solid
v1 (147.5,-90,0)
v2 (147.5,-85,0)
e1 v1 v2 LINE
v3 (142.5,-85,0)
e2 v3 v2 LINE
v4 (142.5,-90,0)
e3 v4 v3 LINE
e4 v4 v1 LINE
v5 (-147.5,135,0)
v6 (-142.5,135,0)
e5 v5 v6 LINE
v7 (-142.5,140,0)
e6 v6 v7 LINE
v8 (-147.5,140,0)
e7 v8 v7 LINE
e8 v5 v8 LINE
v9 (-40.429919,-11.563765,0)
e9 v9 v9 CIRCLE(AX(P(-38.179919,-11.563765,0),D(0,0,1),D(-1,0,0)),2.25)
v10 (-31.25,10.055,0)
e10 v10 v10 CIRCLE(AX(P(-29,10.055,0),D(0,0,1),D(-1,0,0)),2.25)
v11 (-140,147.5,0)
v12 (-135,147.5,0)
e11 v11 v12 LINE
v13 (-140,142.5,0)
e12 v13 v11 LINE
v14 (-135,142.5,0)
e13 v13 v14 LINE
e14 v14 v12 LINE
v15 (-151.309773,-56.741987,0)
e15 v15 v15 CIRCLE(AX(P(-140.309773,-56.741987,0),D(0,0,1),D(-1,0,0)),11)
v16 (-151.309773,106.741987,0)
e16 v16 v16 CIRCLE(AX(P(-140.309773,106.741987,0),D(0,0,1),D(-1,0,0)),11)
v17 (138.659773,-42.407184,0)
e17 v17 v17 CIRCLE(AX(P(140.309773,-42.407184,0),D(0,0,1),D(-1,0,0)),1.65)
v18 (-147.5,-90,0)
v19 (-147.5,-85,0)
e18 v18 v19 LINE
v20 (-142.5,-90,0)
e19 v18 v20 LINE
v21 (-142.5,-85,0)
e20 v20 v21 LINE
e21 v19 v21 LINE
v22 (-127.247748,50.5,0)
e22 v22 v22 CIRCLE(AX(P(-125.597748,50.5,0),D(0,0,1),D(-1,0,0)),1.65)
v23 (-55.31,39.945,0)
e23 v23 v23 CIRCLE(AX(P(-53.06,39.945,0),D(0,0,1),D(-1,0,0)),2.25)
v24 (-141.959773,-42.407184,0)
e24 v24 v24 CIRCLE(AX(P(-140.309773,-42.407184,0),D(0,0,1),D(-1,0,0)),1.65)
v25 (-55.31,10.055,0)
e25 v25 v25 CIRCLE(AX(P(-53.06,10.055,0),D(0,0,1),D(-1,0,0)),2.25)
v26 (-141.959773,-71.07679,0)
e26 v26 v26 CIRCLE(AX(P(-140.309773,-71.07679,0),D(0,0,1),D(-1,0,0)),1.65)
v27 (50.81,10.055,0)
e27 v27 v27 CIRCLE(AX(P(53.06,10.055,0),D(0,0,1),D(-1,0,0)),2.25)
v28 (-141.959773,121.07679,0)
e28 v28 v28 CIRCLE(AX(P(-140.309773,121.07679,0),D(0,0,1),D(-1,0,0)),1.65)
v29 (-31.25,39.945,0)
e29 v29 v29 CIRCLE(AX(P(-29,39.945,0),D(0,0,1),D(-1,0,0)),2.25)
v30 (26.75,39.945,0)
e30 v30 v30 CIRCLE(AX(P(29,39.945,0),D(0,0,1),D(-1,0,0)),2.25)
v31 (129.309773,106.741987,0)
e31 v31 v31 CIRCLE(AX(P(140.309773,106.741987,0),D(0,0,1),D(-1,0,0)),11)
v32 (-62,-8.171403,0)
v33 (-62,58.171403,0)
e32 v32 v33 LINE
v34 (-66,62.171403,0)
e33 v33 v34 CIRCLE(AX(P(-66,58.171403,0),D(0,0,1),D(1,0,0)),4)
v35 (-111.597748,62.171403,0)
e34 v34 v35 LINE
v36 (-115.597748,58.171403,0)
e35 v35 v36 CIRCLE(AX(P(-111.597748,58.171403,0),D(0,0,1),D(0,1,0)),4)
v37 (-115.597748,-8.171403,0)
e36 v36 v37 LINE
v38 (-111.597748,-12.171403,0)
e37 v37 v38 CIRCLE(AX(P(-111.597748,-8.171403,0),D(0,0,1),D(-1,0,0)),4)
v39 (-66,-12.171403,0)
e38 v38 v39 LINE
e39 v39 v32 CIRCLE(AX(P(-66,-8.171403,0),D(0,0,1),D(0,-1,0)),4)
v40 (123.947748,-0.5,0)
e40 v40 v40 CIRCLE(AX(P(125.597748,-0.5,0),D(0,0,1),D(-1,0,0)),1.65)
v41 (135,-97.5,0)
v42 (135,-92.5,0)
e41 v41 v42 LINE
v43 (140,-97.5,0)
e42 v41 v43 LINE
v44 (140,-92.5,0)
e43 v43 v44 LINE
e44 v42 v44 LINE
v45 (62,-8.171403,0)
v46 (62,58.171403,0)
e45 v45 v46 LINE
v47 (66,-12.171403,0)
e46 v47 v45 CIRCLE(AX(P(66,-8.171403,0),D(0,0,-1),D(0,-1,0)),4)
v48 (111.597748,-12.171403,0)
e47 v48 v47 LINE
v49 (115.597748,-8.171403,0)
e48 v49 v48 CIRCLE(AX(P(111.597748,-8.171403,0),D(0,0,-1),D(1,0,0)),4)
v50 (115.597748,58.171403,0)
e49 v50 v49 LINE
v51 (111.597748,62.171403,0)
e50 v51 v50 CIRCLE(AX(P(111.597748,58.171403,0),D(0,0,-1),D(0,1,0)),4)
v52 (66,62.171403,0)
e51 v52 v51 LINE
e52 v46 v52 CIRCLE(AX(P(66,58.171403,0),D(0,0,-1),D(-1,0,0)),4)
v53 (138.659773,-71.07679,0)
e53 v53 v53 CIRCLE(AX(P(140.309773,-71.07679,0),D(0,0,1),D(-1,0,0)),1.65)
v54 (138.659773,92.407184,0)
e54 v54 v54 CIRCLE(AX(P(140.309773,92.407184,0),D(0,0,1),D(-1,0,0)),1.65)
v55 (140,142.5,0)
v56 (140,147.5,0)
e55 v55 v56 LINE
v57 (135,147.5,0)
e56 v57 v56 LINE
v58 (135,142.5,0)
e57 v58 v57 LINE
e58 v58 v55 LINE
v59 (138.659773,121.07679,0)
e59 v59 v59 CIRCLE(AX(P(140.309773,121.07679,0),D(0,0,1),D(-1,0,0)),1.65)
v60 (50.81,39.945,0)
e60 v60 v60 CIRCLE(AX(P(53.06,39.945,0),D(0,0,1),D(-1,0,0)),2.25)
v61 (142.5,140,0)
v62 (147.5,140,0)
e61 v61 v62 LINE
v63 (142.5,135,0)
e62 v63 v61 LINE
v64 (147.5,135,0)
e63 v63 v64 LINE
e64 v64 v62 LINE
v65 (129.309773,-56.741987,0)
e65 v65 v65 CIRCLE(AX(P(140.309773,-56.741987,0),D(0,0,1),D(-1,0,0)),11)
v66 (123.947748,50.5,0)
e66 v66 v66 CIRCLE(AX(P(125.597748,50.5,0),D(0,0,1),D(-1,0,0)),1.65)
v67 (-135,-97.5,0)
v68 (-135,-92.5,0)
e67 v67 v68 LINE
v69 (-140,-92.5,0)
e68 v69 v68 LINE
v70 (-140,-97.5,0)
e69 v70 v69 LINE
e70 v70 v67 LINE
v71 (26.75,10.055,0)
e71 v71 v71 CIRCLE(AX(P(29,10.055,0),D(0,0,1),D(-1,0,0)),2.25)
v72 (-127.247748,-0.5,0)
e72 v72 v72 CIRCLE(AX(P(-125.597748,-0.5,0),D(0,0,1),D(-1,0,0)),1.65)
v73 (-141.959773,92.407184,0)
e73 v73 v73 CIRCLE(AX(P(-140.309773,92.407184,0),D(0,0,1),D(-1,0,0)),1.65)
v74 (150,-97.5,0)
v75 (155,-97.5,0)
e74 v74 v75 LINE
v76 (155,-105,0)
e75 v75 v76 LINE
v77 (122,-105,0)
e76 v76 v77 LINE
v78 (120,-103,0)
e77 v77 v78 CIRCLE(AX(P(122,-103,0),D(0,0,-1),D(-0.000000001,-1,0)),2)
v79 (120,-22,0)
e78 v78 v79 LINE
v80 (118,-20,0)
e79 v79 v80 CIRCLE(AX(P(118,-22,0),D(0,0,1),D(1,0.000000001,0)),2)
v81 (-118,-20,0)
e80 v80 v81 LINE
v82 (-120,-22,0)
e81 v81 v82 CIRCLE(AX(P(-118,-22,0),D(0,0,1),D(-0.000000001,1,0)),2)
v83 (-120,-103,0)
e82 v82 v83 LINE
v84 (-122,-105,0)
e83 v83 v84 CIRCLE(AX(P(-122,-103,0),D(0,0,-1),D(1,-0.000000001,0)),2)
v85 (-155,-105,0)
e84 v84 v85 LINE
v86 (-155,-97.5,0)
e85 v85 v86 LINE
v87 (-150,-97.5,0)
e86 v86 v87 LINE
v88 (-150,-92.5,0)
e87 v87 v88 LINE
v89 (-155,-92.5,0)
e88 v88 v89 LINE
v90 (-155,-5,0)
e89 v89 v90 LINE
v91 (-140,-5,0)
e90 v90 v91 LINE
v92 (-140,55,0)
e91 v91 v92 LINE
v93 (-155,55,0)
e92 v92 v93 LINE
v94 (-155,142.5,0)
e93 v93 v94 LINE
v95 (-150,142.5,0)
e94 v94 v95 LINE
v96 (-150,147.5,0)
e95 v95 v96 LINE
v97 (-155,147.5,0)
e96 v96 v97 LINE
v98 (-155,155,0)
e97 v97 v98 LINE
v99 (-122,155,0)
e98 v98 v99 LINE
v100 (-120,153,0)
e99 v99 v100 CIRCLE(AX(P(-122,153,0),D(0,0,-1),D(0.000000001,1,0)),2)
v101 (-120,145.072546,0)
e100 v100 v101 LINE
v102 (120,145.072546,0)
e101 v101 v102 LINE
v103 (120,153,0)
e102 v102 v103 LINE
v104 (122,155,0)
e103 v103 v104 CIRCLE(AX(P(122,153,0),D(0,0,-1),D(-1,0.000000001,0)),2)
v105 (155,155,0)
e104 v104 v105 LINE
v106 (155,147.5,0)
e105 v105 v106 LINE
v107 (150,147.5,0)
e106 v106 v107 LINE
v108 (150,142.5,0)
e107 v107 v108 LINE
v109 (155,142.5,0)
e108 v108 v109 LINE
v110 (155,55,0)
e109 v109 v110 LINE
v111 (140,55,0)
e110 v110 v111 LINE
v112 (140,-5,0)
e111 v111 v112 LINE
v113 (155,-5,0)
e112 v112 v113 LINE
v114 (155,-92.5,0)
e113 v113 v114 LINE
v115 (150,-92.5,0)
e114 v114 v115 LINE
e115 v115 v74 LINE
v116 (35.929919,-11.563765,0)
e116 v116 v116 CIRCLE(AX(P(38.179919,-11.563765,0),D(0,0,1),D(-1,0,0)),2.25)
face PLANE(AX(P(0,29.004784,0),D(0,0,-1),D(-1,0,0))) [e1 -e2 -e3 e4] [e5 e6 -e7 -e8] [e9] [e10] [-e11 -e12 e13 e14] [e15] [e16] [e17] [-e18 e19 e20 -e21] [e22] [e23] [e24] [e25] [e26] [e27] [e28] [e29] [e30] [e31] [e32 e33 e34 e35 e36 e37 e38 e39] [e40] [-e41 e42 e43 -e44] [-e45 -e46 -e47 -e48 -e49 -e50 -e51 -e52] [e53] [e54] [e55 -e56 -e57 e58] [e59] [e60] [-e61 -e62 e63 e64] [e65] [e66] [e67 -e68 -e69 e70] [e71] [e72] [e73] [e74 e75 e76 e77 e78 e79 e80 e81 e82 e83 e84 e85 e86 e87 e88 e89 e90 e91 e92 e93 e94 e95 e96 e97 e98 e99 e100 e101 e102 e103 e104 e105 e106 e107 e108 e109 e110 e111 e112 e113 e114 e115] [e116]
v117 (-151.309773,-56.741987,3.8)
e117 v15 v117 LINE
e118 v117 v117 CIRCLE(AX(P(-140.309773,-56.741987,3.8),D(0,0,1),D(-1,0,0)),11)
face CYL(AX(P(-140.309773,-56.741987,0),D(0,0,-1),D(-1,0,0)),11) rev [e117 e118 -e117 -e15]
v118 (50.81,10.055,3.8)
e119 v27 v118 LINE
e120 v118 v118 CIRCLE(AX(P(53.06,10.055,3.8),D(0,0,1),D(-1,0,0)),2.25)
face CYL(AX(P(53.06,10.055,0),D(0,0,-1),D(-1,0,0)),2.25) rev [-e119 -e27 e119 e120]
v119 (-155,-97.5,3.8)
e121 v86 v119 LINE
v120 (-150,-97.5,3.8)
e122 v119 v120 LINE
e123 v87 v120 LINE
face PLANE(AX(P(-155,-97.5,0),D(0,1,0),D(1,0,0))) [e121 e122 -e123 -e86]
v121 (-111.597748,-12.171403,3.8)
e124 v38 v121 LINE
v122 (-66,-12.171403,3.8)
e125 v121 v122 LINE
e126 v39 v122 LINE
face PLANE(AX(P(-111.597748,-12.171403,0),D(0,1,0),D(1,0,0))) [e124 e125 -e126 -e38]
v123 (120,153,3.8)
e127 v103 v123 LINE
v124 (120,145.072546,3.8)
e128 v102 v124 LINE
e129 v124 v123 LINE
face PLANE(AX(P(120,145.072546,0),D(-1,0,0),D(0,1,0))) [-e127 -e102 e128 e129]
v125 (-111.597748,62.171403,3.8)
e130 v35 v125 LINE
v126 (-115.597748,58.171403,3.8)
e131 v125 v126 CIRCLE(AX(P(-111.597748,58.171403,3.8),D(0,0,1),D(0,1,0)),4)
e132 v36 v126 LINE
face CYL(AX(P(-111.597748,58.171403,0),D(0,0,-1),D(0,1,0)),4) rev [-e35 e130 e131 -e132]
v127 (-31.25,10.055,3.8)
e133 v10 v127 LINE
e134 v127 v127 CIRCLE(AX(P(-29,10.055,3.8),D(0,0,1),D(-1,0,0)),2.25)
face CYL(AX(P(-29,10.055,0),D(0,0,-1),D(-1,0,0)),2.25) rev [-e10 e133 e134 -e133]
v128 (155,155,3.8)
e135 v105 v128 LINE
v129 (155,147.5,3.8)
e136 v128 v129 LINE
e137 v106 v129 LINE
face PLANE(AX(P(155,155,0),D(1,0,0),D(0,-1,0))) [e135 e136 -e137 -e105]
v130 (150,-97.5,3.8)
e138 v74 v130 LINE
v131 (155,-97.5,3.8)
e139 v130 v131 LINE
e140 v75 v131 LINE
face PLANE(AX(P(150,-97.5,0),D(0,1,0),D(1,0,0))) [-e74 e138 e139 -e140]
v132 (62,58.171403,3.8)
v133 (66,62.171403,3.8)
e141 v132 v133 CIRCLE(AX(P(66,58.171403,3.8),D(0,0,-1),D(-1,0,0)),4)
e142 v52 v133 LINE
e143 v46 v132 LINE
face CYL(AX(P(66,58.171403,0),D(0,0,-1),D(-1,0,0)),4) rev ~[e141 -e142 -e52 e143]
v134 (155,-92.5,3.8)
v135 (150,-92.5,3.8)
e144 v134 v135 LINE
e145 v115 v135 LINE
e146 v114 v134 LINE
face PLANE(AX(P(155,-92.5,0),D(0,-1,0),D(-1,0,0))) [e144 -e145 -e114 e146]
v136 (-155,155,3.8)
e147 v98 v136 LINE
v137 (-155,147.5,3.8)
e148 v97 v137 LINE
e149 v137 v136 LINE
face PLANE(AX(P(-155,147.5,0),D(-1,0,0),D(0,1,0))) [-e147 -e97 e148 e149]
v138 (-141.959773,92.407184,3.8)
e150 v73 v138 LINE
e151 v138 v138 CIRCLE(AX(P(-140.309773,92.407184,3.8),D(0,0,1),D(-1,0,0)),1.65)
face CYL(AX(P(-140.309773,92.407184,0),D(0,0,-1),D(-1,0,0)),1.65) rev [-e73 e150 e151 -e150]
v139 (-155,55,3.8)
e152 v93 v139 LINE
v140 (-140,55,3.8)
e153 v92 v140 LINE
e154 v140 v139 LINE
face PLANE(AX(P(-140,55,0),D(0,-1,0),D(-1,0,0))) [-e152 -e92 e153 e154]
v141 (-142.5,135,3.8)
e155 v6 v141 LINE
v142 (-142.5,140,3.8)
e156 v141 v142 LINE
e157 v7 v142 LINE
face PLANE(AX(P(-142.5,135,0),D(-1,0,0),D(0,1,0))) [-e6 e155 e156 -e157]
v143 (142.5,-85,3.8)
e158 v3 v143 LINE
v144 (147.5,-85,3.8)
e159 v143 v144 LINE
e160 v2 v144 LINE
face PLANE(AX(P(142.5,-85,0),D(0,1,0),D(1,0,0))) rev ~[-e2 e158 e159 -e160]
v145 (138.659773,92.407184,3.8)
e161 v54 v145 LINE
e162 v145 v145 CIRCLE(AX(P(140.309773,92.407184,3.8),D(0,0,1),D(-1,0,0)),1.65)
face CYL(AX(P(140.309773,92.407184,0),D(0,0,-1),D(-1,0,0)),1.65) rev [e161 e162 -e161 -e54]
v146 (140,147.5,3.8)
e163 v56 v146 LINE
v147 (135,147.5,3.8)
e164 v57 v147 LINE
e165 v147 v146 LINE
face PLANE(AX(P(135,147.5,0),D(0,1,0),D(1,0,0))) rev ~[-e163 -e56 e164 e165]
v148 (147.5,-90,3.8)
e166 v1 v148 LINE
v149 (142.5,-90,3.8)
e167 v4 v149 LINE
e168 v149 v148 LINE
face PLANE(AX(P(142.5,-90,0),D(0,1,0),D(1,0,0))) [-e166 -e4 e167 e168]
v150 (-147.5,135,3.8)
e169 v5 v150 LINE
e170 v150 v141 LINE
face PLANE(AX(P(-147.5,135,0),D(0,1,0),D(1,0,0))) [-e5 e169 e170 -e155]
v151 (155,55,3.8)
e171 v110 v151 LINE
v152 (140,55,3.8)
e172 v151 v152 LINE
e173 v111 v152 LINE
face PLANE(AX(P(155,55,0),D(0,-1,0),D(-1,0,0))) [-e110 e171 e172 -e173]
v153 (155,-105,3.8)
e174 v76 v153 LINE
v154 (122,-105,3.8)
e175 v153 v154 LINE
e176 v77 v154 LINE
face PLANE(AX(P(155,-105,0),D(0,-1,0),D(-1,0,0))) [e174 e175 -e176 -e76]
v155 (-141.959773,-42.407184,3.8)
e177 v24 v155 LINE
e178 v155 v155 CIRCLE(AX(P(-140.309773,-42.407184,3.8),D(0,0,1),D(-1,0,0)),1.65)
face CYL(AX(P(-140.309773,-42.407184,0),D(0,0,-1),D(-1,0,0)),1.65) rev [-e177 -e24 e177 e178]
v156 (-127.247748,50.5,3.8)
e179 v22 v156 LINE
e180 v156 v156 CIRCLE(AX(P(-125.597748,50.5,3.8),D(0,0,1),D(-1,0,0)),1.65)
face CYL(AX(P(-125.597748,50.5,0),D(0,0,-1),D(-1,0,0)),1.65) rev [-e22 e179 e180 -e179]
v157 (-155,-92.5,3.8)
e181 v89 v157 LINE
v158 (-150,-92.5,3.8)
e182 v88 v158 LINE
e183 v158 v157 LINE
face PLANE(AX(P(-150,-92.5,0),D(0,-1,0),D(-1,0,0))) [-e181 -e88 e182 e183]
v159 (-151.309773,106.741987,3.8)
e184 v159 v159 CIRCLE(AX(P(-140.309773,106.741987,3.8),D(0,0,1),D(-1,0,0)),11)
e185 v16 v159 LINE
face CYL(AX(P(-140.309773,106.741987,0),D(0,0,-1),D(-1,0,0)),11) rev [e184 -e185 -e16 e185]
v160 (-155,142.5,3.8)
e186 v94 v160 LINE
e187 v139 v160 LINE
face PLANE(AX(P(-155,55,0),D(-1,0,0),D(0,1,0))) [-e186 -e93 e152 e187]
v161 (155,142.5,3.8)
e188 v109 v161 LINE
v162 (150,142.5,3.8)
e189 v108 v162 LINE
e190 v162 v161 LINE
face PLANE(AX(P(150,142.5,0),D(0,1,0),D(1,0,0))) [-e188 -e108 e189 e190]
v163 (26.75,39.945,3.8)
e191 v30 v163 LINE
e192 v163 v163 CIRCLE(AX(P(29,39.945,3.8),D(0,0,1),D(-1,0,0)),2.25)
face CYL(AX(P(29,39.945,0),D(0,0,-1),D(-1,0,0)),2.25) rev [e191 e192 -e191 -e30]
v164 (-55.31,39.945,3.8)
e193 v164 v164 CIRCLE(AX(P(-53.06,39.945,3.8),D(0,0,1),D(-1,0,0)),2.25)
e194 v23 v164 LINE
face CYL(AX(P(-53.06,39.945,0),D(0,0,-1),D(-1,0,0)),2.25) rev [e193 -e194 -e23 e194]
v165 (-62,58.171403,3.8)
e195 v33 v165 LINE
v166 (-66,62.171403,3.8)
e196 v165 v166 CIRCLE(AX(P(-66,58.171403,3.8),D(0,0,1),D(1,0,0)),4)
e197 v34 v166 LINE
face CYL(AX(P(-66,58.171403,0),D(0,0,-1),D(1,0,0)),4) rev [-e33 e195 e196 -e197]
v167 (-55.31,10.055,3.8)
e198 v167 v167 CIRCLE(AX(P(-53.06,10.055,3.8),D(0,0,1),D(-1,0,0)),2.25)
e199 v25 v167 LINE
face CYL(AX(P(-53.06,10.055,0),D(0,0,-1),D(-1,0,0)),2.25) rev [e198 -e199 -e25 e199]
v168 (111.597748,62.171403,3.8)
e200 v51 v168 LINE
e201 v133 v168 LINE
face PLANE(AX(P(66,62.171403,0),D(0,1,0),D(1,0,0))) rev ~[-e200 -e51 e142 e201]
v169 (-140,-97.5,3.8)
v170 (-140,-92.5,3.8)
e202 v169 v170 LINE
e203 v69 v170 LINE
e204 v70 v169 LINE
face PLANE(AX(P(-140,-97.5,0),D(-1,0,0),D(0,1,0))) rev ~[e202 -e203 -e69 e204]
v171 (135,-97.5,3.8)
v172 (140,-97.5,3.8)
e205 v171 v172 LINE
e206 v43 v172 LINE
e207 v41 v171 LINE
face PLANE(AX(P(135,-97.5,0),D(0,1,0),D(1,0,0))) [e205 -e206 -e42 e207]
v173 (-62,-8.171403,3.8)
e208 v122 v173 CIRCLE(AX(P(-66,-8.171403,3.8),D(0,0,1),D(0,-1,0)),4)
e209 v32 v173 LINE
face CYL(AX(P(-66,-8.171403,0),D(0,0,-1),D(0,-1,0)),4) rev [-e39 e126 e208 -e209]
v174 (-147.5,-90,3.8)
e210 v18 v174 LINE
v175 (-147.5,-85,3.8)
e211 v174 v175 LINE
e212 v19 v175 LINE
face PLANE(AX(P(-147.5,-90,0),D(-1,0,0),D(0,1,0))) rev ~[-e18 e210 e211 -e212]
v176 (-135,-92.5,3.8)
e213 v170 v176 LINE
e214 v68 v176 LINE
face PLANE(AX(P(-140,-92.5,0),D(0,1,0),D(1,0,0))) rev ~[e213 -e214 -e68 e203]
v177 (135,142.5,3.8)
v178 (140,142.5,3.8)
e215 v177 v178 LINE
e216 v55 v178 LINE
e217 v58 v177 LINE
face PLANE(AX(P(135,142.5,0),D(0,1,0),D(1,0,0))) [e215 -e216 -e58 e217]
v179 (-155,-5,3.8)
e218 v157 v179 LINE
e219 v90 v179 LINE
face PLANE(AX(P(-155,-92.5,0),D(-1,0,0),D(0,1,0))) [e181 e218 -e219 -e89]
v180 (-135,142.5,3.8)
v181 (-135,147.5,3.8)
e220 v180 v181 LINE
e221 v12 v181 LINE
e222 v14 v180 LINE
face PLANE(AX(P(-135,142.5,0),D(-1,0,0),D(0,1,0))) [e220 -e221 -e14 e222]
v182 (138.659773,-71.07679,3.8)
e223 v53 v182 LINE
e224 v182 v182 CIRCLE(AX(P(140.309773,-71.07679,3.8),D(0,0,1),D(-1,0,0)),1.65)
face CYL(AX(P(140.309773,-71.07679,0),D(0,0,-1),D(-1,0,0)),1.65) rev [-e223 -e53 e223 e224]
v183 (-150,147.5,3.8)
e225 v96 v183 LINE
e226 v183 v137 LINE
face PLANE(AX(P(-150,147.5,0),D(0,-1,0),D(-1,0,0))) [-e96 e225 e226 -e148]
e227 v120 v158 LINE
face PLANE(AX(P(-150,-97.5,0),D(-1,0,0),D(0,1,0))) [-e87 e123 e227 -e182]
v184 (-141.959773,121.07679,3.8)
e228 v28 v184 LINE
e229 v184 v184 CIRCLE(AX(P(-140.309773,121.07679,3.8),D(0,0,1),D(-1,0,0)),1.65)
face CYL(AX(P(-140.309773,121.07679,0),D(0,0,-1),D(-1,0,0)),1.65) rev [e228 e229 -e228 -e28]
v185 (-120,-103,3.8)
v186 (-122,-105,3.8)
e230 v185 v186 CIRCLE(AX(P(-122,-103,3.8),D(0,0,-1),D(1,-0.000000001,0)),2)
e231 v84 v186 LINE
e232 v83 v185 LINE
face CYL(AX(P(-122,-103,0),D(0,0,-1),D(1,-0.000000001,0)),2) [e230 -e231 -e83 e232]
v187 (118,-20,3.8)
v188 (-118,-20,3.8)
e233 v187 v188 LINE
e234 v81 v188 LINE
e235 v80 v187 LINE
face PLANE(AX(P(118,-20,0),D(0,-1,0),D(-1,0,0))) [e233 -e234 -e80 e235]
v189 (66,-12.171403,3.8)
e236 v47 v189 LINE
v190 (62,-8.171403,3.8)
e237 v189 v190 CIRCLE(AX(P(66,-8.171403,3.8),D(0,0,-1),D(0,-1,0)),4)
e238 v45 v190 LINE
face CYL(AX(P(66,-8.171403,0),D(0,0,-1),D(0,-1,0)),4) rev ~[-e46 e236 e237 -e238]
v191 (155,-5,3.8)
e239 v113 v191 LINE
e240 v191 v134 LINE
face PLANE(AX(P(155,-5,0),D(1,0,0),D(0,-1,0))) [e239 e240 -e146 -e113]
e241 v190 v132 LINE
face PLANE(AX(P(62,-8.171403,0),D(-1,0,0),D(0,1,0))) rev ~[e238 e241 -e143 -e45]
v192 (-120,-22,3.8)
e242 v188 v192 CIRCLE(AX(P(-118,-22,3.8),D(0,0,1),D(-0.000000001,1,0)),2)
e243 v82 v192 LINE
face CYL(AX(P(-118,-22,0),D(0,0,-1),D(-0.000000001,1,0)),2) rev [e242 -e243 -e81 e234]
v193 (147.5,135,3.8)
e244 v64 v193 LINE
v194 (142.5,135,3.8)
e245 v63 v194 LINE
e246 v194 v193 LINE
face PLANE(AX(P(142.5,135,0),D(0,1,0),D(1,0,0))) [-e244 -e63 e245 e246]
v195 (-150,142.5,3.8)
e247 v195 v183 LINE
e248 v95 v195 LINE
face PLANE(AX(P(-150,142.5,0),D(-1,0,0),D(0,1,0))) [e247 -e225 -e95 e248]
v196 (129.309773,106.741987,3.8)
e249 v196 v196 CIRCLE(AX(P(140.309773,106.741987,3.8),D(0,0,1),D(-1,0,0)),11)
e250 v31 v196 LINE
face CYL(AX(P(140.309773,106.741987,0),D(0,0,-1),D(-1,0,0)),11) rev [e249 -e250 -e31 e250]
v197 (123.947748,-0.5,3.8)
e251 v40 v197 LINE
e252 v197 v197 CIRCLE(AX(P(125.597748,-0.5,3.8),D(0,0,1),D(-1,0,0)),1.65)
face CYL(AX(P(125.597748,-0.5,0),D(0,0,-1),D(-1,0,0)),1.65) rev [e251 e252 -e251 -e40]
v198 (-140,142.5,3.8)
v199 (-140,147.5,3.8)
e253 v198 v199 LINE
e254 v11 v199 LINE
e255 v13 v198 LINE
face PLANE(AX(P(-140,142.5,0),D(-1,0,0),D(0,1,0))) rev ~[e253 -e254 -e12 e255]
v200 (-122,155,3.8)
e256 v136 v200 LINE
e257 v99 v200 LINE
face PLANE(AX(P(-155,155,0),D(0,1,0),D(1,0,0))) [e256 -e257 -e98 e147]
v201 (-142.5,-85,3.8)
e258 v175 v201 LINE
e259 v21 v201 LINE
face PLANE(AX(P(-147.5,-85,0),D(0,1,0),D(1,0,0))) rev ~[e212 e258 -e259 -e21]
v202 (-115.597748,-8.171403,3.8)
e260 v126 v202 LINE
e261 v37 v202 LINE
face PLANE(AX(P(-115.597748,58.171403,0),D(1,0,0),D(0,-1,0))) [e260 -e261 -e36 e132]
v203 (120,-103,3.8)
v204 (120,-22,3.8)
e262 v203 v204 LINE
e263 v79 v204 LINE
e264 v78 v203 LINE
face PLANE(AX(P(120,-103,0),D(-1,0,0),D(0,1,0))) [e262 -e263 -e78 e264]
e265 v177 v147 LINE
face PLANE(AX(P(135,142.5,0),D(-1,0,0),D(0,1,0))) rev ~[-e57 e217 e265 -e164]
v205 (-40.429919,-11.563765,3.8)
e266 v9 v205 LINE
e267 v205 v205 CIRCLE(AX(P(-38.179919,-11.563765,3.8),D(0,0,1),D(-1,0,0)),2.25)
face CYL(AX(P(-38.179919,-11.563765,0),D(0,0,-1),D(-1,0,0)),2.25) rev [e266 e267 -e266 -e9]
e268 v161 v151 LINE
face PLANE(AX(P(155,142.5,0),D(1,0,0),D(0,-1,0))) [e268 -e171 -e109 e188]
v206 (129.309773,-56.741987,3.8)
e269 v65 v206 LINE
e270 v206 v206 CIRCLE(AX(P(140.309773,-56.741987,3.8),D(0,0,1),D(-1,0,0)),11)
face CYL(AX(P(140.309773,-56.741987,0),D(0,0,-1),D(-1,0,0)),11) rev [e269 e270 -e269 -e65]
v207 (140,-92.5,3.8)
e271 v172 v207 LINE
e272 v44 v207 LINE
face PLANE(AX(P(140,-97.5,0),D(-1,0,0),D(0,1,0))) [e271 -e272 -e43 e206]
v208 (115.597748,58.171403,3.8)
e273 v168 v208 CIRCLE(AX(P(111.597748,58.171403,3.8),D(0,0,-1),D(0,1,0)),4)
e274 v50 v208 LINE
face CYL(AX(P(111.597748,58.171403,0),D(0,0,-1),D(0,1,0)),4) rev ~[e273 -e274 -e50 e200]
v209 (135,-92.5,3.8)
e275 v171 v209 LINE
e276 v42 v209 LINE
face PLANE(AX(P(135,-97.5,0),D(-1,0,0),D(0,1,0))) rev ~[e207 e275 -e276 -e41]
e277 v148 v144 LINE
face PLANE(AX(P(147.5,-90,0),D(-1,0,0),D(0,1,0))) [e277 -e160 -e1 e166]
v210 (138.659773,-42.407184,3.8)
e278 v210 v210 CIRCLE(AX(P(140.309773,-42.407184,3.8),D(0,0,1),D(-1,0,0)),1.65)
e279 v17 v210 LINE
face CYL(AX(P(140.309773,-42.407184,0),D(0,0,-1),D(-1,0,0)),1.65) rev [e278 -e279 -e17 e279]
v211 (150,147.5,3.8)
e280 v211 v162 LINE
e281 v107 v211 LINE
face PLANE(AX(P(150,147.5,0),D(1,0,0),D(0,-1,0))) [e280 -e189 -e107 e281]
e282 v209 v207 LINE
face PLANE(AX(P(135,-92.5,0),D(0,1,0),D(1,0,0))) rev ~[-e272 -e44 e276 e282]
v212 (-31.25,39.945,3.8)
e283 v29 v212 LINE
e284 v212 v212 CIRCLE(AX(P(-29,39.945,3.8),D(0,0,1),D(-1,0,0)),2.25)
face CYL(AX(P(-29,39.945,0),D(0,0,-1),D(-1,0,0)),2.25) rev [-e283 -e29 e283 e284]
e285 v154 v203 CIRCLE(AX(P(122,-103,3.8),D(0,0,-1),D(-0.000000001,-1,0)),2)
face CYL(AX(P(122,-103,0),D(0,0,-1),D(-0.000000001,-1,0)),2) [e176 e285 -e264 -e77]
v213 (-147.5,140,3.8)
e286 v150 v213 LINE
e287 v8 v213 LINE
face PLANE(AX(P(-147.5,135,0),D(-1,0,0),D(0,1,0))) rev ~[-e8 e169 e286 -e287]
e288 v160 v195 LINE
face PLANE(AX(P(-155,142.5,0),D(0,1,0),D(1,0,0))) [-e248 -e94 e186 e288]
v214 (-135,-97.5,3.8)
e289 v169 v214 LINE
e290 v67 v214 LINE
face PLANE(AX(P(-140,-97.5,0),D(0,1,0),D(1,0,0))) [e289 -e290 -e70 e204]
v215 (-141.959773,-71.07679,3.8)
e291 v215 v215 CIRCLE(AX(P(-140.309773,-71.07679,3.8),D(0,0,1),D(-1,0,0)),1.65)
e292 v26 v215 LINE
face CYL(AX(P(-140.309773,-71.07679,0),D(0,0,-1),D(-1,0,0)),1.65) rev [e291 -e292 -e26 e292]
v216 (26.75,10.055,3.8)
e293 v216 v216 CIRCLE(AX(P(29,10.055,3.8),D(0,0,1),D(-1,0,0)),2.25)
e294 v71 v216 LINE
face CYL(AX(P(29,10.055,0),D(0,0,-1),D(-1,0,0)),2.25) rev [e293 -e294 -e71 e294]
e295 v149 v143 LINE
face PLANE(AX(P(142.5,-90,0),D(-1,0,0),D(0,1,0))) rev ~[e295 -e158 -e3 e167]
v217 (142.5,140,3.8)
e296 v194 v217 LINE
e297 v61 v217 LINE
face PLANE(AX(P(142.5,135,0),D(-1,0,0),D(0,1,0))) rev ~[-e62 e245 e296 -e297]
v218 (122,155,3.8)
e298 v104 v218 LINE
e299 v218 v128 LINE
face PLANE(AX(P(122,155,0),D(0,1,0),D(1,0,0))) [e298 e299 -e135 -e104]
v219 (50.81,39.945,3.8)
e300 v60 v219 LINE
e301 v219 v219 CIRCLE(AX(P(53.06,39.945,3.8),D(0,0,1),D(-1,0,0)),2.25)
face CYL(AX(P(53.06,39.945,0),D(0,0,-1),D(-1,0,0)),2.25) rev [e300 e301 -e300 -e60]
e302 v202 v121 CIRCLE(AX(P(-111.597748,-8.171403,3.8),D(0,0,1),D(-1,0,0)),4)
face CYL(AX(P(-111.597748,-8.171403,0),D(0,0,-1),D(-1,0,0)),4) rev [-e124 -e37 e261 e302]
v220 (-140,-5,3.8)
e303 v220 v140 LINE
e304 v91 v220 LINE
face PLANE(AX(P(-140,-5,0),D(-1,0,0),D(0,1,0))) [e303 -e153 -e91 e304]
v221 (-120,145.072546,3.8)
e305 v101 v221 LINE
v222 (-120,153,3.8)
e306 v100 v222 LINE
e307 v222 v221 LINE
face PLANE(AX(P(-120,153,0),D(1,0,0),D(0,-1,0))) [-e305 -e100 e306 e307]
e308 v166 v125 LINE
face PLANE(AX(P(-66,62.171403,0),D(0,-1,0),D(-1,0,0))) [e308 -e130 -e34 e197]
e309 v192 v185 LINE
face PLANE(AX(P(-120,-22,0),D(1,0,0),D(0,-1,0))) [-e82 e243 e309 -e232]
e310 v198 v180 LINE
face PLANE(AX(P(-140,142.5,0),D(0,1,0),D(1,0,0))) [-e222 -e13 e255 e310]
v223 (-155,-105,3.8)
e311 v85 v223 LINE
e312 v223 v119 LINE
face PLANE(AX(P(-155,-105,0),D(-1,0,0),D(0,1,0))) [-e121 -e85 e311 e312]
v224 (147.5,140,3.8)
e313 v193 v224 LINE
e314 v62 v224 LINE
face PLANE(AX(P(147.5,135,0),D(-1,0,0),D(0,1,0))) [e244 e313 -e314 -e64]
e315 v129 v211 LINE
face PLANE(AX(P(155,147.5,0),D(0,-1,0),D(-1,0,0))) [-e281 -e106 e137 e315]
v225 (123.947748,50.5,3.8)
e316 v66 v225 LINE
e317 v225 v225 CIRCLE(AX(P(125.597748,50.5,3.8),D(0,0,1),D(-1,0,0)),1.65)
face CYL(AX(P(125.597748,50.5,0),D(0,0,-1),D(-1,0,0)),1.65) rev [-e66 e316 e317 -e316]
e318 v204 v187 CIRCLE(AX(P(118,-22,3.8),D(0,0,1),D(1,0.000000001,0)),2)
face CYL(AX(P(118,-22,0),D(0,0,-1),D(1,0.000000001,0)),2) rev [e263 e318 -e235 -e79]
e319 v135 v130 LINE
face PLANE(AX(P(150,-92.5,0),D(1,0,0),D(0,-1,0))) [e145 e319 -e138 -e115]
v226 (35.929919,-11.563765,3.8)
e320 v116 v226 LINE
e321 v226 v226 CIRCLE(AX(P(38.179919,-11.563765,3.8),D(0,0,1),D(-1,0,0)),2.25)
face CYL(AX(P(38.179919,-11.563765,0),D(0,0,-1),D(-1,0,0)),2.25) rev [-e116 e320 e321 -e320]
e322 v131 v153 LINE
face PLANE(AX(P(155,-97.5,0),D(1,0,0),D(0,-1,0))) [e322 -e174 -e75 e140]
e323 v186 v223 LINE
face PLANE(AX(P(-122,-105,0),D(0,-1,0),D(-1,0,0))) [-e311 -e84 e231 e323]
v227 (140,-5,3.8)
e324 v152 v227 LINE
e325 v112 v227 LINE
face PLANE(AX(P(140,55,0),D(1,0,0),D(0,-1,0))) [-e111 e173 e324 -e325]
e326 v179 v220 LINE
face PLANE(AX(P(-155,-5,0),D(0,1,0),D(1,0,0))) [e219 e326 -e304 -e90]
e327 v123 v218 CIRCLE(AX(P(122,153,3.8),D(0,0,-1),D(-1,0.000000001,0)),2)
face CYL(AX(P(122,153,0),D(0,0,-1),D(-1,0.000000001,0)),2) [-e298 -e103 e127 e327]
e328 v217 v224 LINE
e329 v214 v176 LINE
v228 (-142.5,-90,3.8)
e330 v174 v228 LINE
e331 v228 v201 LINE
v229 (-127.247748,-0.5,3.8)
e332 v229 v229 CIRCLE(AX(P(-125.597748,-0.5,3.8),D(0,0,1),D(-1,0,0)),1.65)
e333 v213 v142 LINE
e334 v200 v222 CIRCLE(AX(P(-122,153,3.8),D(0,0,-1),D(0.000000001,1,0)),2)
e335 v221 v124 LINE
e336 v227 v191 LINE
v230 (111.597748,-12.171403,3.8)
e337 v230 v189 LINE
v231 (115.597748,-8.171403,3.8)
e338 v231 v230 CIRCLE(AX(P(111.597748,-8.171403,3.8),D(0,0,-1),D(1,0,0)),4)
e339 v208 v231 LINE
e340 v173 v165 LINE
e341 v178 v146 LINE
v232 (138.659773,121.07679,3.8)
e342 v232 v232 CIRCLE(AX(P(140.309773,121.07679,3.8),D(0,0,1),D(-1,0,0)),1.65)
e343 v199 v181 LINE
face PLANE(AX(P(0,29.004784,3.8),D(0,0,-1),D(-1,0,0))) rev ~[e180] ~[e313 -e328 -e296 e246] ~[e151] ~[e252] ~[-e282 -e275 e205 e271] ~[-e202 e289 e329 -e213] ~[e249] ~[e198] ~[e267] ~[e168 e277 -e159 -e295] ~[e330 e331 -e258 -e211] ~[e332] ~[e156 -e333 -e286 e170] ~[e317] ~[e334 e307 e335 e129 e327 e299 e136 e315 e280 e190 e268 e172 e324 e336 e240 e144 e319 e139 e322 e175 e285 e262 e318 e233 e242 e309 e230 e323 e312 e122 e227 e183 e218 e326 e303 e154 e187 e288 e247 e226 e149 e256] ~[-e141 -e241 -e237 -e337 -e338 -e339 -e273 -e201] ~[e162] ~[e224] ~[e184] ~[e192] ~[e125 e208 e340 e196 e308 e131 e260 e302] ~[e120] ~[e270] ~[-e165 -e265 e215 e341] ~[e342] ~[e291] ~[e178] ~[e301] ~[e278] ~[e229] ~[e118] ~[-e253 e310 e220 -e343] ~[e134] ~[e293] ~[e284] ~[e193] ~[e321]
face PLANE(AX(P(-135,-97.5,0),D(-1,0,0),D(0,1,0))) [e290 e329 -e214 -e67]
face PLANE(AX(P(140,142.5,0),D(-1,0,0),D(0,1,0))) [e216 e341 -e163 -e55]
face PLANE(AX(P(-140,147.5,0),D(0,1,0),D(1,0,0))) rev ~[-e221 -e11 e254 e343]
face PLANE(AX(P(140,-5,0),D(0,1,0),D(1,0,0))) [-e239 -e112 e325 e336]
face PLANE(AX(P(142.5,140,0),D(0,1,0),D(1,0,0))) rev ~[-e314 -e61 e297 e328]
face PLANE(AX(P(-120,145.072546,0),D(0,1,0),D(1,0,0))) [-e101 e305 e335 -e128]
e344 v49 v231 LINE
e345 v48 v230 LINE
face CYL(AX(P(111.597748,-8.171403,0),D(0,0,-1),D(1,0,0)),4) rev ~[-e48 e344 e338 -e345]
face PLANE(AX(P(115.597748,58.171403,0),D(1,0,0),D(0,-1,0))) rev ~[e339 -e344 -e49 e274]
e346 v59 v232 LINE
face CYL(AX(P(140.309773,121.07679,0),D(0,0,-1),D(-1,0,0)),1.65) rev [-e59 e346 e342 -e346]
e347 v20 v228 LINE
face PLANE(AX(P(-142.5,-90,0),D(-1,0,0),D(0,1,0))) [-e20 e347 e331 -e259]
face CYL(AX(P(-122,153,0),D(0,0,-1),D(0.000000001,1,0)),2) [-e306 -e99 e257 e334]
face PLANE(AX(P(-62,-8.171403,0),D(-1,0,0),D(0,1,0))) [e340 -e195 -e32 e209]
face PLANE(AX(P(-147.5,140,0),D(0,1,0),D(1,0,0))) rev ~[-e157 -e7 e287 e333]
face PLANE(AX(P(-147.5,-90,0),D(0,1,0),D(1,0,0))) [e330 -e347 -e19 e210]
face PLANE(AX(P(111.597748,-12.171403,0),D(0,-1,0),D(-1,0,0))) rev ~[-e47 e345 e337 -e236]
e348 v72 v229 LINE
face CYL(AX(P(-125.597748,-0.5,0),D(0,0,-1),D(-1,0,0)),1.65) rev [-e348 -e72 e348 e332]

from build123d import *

# Parameters (mm, degrees)
SKETCH2_R           = 1.65
SKETCH2_R_2         = 11
SKETCH2_R_3         = 2.25
SKETCH2_W           = 5
SKETCH2_H           = 5
BOSS_EXTRUDE1_DEPTH = 3.8


with BuildPart() as part:
    # Sketch2 → Boss-Extrude1 (new body)
    with BuildSketch(Plane.XY):
        with BuildLine():
            Line((-155, 155), (-122, 155))
            ThreePointArc((-122, 155), (-120.585786438, 154.414213562), (-120, 153))
            Line((-120, 153), (-120, 145.072545974))
            Line((-120, 145.072545974), (120, 145.072545974))
            Line((120, 145.072545974), (120, 153))
            ThreePointArc((120, 153), (120.585786438, 154.414213562), (122, 155))
            Line((122, 155), (155, 155))
            Line((155, 155), (155, 147.5))
            Line((155, 147.5), (150, 147.5))
            Line((150, 147.5), (150, 142.5))
            Line((150, 142.5), (155, 142.5))
            Line((155, 142.5), (155, 55))
            Line((155, 55), (140, 55))
            Line((140, 55), (140, -5))
            Line((140, -5), (155, -5))
            Line((155, -5), (155, -92.5))
            Line((155, -92.5), (150, -92.5))
            Line((150, -92.5), (150, -97.5))
            Line((150, -97.5), (155, -97.5))
            Line((155, -97.5), (155, -105))
            Line((155, -105), (122, -105))
            ThreePointArc((122, -105), (120.585786438, -104.414213562), (120, -103))
            Line((120, -103), (120, -22))
            ThreePointArc((120, -22), (119.414213562, -20.585786438), (118, -20))
            Line((118, -20), (-118, -20))
            ThreePointArc((-118, -20), (-119.414213562, -20.585786438), (-120, -22))
            Line((-120, -22), (-120, -103))
            ThreePointArc((-120, -103), (-120.585786438, -104.414213562), (-122, -105))
            Line((-122, -105), (-155, -105))
            Line((-155, -105), (-155, -97.5))
            Line((-155, -97.5), (-150, -97.5))
            Line((-150, -97.5), (-150, -92.5))
            Line((-150, -92.5), (-155, -92.5))
            Line((-155, -92.5), (-155, -5))
            Line((-155, -5), (-140, -5))
            Line((-140, -5), (-140, 55))
            Line((-140, 55), (-155, 55))
            Line((-155, 55), (-155, 142.5))
            Line((-155, 142.5), (-150, 142.5))
            Line((-150, 142.5), (-150, 147.5))
            Line((-150, 147.5), (-155, 147.5))
            Line((-155, 147.5), (-155, 155))
        make_face()
        with Locations(Location((-140.309773495, 121.076789794, 0), (0, 0, 180))):
            Circle(SKETCH2_R, mode=Mode.SUBTRACT)
        with Locations(Location((-140.309773495, 92.407184142, 0), (0, 0, 180))):
            Circle(SKETCH2_R, mode=Mode.SUBTRACT)
        with Locations(Location((140.309773495, 121.076789794, 0), (0, 0, 180))):
            Circle(SKETCH2_R, mode=Mode.SUBTRACT)
        with Locations(Location((140.309773495, 92.407184142, 0), (0, 0, 180))):
            Circle(SKETCH2_R, mode=Mode.SUBTRACT)
        with Locations(Location((140.309773495, 106.741986968, 0), (0, 0, 180))):
            Circle(SKETCH2_R_2, mode=Mode.SUBTRACT)
        with Locations(Location((-140.309773495, 106.741986968, 0), (0, 0, 180))):
            Circle(SKETCH2_R_2, mode=Mode.SUBTRACT)
        with Locations(Location((125.59774802, -0.5, 0), (0, 0, 180))):
            Circle(SKETCH2_R, mode=Mode.SUBTRACT)
        with Locations(Location((125.59774802, 50.5, 0), (0, 0, 180))):
            Circle(SKETCH2_R, mode=Mode.SUBTRACT)
        with Locations(Location((-125.59774802, -0.5, 0), (0, 0, 180))):
            Circle(SKETCH2_R, mode=Mode.SUBTRACT)
        with Locations(Location((-125.59774802, 50.5, 0), (0, 0, 180))):
            Circle(SKETCH2_R, mode=Mode.SUBTRACT)
        with Locations(Location((-29, 10.055, 0), (0, 0, 180))):
            Circle(SKETCH2_R_3, mode=Mode.SUBTRACT)
        with Locations(Location((-29, 39.945, 0), (0, 0, 180))):
            Circle(SKETCH2_R_3, mode=Mode.SUBTRACT)
        with Locations(Location((-53.06, 39.945, 0), (0, 0, 180))):
            Circle(SKETCH2_R_3, mode=Mode.SUBTRACT)
        with Locations(Location((-53.06, 10.055, 0), (0, 0, 180))):
            Circle(SKETCH2_R_3, mode=Mode.SUBTRACT)
        with Locations(Location((53.06, 10.055, 0), (0, 0, 180))):
            Circle(SKETCH2_R_3, mode=Mode.SUBTRACT)
        with Locations(Location((29, 10.055, 0), (0, 0, 180))):
            Circle(SKETCH2_R_3, mode=Mode.SUBTRACT)
        with Locations(Location((29, 39.945, 0), (0, 0, 180))):
            Circle(SKETCH2_R_3, mode=Mode.SUBTRACT)
        with Locations(Location((53.06, 39.945, 0), (0, 0, 180))):
            Circle(SKETCH2_R_3, mode=Mode.SUBTRACT)
        with Locations(Location((140.309773495, -71.076789794, 0), (0, 0, 180))):
            Circle(SKETCH2_R, mode=Mode.SUBTRACT)
        with Locations(Location((140.309773495, -42.407184142, 0), (0, 0, 180))):
            Circle(SKETCH2_R, mode=Mode.SUBTRACT)
        with Locations(Location((140.309773495, -56.741986968, 0), (0, 0, 180))):
            Circle(SKETCH2_R_2, mode=Mode.SUBTRACT)
        with Locations(Location((-140.309773495, -56.741986968, 0), (0, 0, 180))):
            Circle(SKETCH2_R_2, mode=Mode.SUBTRACT)
        with Locations(Location((-140.309773495, -42.407184142, 0), (0, 0, 180))):
            Circle(SKETCH2_R, mode=Mode.SUBTRACT)
        with Locations(Location((-140.309773495, -71.076789794, 0), (0, 0, 180))):
            Circle(SKETCH2_R, mode=Mode.SUBTRACT)
        with Locations(Location((38.179918963, -11.563765186, 0), (0, 0, 180))):
            Circle(SKETCH2_R_3, mode=Mode.SUBTRACT)
        with Locations(Location((-38.179918963, -11.563765186, 0), (0, 0, 180))):
            Circle(SKETCH2_R_3, mode=Mode.SUBTRACT)
        with BuildLine():
            Line((-66, 62.171403079), (-111.59774802, 62.171403079))
            ThreePointArc((-111.59774802, 62.171403079), (-114.426175145, 60.999830204), (-115.59774802, 58.171403079))
            Line((-115.59774802, 58.171403079), (-115.59774802, -8.171403079))
            ThreePointArc((-115.59774802, -8.171403079), (-114.426175145, -10.999830204), (-111.59774802, -12.171403079))
            Line((-111.59774802, -12.171403079), (-66, -12.171403079))
            ThreePointArc((-66, -12.171403079), (-63.171572875, -10.999830204), (-62, -8.171403079))
            Line((-62, -8.171403079), (-62, 58.171403079))
            ThreePointArc((-62, 58.171403079), (-63.171572875, 60.999830204), (-66, 62.171403079))
        make_face(mode=Mode.SUBTRACT)
        with BuildLine():
            Line((66, 62.171403079), (111.59774802, 62.171403079))
            ThreePointArc((111.59774802, 62.171403079), (114.426175145, 60.999830204), (115.59774802, 58.171403079))
            Line((115.59774802, 58.171403079), (115.59774802, -8.171403079))
            ThreePointArc((115.59774802, -8.171403079), (114.426175145, -10.999830204), (111.59774802, -12.171403079))
            Line((111.59774802, -12.171403079), (66, -12.171403079))
            ThreePointArc((66, -12.171403079), (63.171572875, -10.999830204), (62, -8.171403079))
            Line((62, -8.171403079), (62, 58.171403079))
            ThreePointArc((62, 58.171403079), (63.171572875, 60.999830204), (66, 62.171403079))
        make_face(mode=Mode.SUBTRACT)
        with Locations((-145, -87.5)):
            Rectangle(SKETCH2_W, SKETCH2_H, mode=Mode.SUBTRACT)
        with Locations((-137.5, -95)):
            Rectangle(SKETCH2_W, SKETCH2_H, mode=Mode.SUBTRACT)
        with Locations((137.5, -95)):
            Rectangle(SKETCH2_W, SKETCH2_H, mode=Mode.SUBTRACT)
        with Locations((145, -87.5)):
            Rectangle(SKETCH2_W, SKETCH2_H, mode=Mode.SUBTRACT)
        with Locations((-137.5, 145)):
            Rectangle(SKETCH2_W, SKETCH2_H, mode=Mode.SUBTRACT)
        with Locations((-145, 137.5)):
            Rectangle(SKETCH2_W, SKETCH2_H, mode=Mode.SUBTRACT)
        with Locations((145, 137.5)):
            Rectangle(SKETCH2_W, SKETCH2_H, mode=Mode.SUBTRACT)
        with Locations((137.5, 145)):
            Rectangle(SKETCH2_W, SKETCH2_H, mode=Mode.SUBTRACT)
    extrude(amount=BOSS_EXTRUDE1_DEPTH)


solid = part.part
